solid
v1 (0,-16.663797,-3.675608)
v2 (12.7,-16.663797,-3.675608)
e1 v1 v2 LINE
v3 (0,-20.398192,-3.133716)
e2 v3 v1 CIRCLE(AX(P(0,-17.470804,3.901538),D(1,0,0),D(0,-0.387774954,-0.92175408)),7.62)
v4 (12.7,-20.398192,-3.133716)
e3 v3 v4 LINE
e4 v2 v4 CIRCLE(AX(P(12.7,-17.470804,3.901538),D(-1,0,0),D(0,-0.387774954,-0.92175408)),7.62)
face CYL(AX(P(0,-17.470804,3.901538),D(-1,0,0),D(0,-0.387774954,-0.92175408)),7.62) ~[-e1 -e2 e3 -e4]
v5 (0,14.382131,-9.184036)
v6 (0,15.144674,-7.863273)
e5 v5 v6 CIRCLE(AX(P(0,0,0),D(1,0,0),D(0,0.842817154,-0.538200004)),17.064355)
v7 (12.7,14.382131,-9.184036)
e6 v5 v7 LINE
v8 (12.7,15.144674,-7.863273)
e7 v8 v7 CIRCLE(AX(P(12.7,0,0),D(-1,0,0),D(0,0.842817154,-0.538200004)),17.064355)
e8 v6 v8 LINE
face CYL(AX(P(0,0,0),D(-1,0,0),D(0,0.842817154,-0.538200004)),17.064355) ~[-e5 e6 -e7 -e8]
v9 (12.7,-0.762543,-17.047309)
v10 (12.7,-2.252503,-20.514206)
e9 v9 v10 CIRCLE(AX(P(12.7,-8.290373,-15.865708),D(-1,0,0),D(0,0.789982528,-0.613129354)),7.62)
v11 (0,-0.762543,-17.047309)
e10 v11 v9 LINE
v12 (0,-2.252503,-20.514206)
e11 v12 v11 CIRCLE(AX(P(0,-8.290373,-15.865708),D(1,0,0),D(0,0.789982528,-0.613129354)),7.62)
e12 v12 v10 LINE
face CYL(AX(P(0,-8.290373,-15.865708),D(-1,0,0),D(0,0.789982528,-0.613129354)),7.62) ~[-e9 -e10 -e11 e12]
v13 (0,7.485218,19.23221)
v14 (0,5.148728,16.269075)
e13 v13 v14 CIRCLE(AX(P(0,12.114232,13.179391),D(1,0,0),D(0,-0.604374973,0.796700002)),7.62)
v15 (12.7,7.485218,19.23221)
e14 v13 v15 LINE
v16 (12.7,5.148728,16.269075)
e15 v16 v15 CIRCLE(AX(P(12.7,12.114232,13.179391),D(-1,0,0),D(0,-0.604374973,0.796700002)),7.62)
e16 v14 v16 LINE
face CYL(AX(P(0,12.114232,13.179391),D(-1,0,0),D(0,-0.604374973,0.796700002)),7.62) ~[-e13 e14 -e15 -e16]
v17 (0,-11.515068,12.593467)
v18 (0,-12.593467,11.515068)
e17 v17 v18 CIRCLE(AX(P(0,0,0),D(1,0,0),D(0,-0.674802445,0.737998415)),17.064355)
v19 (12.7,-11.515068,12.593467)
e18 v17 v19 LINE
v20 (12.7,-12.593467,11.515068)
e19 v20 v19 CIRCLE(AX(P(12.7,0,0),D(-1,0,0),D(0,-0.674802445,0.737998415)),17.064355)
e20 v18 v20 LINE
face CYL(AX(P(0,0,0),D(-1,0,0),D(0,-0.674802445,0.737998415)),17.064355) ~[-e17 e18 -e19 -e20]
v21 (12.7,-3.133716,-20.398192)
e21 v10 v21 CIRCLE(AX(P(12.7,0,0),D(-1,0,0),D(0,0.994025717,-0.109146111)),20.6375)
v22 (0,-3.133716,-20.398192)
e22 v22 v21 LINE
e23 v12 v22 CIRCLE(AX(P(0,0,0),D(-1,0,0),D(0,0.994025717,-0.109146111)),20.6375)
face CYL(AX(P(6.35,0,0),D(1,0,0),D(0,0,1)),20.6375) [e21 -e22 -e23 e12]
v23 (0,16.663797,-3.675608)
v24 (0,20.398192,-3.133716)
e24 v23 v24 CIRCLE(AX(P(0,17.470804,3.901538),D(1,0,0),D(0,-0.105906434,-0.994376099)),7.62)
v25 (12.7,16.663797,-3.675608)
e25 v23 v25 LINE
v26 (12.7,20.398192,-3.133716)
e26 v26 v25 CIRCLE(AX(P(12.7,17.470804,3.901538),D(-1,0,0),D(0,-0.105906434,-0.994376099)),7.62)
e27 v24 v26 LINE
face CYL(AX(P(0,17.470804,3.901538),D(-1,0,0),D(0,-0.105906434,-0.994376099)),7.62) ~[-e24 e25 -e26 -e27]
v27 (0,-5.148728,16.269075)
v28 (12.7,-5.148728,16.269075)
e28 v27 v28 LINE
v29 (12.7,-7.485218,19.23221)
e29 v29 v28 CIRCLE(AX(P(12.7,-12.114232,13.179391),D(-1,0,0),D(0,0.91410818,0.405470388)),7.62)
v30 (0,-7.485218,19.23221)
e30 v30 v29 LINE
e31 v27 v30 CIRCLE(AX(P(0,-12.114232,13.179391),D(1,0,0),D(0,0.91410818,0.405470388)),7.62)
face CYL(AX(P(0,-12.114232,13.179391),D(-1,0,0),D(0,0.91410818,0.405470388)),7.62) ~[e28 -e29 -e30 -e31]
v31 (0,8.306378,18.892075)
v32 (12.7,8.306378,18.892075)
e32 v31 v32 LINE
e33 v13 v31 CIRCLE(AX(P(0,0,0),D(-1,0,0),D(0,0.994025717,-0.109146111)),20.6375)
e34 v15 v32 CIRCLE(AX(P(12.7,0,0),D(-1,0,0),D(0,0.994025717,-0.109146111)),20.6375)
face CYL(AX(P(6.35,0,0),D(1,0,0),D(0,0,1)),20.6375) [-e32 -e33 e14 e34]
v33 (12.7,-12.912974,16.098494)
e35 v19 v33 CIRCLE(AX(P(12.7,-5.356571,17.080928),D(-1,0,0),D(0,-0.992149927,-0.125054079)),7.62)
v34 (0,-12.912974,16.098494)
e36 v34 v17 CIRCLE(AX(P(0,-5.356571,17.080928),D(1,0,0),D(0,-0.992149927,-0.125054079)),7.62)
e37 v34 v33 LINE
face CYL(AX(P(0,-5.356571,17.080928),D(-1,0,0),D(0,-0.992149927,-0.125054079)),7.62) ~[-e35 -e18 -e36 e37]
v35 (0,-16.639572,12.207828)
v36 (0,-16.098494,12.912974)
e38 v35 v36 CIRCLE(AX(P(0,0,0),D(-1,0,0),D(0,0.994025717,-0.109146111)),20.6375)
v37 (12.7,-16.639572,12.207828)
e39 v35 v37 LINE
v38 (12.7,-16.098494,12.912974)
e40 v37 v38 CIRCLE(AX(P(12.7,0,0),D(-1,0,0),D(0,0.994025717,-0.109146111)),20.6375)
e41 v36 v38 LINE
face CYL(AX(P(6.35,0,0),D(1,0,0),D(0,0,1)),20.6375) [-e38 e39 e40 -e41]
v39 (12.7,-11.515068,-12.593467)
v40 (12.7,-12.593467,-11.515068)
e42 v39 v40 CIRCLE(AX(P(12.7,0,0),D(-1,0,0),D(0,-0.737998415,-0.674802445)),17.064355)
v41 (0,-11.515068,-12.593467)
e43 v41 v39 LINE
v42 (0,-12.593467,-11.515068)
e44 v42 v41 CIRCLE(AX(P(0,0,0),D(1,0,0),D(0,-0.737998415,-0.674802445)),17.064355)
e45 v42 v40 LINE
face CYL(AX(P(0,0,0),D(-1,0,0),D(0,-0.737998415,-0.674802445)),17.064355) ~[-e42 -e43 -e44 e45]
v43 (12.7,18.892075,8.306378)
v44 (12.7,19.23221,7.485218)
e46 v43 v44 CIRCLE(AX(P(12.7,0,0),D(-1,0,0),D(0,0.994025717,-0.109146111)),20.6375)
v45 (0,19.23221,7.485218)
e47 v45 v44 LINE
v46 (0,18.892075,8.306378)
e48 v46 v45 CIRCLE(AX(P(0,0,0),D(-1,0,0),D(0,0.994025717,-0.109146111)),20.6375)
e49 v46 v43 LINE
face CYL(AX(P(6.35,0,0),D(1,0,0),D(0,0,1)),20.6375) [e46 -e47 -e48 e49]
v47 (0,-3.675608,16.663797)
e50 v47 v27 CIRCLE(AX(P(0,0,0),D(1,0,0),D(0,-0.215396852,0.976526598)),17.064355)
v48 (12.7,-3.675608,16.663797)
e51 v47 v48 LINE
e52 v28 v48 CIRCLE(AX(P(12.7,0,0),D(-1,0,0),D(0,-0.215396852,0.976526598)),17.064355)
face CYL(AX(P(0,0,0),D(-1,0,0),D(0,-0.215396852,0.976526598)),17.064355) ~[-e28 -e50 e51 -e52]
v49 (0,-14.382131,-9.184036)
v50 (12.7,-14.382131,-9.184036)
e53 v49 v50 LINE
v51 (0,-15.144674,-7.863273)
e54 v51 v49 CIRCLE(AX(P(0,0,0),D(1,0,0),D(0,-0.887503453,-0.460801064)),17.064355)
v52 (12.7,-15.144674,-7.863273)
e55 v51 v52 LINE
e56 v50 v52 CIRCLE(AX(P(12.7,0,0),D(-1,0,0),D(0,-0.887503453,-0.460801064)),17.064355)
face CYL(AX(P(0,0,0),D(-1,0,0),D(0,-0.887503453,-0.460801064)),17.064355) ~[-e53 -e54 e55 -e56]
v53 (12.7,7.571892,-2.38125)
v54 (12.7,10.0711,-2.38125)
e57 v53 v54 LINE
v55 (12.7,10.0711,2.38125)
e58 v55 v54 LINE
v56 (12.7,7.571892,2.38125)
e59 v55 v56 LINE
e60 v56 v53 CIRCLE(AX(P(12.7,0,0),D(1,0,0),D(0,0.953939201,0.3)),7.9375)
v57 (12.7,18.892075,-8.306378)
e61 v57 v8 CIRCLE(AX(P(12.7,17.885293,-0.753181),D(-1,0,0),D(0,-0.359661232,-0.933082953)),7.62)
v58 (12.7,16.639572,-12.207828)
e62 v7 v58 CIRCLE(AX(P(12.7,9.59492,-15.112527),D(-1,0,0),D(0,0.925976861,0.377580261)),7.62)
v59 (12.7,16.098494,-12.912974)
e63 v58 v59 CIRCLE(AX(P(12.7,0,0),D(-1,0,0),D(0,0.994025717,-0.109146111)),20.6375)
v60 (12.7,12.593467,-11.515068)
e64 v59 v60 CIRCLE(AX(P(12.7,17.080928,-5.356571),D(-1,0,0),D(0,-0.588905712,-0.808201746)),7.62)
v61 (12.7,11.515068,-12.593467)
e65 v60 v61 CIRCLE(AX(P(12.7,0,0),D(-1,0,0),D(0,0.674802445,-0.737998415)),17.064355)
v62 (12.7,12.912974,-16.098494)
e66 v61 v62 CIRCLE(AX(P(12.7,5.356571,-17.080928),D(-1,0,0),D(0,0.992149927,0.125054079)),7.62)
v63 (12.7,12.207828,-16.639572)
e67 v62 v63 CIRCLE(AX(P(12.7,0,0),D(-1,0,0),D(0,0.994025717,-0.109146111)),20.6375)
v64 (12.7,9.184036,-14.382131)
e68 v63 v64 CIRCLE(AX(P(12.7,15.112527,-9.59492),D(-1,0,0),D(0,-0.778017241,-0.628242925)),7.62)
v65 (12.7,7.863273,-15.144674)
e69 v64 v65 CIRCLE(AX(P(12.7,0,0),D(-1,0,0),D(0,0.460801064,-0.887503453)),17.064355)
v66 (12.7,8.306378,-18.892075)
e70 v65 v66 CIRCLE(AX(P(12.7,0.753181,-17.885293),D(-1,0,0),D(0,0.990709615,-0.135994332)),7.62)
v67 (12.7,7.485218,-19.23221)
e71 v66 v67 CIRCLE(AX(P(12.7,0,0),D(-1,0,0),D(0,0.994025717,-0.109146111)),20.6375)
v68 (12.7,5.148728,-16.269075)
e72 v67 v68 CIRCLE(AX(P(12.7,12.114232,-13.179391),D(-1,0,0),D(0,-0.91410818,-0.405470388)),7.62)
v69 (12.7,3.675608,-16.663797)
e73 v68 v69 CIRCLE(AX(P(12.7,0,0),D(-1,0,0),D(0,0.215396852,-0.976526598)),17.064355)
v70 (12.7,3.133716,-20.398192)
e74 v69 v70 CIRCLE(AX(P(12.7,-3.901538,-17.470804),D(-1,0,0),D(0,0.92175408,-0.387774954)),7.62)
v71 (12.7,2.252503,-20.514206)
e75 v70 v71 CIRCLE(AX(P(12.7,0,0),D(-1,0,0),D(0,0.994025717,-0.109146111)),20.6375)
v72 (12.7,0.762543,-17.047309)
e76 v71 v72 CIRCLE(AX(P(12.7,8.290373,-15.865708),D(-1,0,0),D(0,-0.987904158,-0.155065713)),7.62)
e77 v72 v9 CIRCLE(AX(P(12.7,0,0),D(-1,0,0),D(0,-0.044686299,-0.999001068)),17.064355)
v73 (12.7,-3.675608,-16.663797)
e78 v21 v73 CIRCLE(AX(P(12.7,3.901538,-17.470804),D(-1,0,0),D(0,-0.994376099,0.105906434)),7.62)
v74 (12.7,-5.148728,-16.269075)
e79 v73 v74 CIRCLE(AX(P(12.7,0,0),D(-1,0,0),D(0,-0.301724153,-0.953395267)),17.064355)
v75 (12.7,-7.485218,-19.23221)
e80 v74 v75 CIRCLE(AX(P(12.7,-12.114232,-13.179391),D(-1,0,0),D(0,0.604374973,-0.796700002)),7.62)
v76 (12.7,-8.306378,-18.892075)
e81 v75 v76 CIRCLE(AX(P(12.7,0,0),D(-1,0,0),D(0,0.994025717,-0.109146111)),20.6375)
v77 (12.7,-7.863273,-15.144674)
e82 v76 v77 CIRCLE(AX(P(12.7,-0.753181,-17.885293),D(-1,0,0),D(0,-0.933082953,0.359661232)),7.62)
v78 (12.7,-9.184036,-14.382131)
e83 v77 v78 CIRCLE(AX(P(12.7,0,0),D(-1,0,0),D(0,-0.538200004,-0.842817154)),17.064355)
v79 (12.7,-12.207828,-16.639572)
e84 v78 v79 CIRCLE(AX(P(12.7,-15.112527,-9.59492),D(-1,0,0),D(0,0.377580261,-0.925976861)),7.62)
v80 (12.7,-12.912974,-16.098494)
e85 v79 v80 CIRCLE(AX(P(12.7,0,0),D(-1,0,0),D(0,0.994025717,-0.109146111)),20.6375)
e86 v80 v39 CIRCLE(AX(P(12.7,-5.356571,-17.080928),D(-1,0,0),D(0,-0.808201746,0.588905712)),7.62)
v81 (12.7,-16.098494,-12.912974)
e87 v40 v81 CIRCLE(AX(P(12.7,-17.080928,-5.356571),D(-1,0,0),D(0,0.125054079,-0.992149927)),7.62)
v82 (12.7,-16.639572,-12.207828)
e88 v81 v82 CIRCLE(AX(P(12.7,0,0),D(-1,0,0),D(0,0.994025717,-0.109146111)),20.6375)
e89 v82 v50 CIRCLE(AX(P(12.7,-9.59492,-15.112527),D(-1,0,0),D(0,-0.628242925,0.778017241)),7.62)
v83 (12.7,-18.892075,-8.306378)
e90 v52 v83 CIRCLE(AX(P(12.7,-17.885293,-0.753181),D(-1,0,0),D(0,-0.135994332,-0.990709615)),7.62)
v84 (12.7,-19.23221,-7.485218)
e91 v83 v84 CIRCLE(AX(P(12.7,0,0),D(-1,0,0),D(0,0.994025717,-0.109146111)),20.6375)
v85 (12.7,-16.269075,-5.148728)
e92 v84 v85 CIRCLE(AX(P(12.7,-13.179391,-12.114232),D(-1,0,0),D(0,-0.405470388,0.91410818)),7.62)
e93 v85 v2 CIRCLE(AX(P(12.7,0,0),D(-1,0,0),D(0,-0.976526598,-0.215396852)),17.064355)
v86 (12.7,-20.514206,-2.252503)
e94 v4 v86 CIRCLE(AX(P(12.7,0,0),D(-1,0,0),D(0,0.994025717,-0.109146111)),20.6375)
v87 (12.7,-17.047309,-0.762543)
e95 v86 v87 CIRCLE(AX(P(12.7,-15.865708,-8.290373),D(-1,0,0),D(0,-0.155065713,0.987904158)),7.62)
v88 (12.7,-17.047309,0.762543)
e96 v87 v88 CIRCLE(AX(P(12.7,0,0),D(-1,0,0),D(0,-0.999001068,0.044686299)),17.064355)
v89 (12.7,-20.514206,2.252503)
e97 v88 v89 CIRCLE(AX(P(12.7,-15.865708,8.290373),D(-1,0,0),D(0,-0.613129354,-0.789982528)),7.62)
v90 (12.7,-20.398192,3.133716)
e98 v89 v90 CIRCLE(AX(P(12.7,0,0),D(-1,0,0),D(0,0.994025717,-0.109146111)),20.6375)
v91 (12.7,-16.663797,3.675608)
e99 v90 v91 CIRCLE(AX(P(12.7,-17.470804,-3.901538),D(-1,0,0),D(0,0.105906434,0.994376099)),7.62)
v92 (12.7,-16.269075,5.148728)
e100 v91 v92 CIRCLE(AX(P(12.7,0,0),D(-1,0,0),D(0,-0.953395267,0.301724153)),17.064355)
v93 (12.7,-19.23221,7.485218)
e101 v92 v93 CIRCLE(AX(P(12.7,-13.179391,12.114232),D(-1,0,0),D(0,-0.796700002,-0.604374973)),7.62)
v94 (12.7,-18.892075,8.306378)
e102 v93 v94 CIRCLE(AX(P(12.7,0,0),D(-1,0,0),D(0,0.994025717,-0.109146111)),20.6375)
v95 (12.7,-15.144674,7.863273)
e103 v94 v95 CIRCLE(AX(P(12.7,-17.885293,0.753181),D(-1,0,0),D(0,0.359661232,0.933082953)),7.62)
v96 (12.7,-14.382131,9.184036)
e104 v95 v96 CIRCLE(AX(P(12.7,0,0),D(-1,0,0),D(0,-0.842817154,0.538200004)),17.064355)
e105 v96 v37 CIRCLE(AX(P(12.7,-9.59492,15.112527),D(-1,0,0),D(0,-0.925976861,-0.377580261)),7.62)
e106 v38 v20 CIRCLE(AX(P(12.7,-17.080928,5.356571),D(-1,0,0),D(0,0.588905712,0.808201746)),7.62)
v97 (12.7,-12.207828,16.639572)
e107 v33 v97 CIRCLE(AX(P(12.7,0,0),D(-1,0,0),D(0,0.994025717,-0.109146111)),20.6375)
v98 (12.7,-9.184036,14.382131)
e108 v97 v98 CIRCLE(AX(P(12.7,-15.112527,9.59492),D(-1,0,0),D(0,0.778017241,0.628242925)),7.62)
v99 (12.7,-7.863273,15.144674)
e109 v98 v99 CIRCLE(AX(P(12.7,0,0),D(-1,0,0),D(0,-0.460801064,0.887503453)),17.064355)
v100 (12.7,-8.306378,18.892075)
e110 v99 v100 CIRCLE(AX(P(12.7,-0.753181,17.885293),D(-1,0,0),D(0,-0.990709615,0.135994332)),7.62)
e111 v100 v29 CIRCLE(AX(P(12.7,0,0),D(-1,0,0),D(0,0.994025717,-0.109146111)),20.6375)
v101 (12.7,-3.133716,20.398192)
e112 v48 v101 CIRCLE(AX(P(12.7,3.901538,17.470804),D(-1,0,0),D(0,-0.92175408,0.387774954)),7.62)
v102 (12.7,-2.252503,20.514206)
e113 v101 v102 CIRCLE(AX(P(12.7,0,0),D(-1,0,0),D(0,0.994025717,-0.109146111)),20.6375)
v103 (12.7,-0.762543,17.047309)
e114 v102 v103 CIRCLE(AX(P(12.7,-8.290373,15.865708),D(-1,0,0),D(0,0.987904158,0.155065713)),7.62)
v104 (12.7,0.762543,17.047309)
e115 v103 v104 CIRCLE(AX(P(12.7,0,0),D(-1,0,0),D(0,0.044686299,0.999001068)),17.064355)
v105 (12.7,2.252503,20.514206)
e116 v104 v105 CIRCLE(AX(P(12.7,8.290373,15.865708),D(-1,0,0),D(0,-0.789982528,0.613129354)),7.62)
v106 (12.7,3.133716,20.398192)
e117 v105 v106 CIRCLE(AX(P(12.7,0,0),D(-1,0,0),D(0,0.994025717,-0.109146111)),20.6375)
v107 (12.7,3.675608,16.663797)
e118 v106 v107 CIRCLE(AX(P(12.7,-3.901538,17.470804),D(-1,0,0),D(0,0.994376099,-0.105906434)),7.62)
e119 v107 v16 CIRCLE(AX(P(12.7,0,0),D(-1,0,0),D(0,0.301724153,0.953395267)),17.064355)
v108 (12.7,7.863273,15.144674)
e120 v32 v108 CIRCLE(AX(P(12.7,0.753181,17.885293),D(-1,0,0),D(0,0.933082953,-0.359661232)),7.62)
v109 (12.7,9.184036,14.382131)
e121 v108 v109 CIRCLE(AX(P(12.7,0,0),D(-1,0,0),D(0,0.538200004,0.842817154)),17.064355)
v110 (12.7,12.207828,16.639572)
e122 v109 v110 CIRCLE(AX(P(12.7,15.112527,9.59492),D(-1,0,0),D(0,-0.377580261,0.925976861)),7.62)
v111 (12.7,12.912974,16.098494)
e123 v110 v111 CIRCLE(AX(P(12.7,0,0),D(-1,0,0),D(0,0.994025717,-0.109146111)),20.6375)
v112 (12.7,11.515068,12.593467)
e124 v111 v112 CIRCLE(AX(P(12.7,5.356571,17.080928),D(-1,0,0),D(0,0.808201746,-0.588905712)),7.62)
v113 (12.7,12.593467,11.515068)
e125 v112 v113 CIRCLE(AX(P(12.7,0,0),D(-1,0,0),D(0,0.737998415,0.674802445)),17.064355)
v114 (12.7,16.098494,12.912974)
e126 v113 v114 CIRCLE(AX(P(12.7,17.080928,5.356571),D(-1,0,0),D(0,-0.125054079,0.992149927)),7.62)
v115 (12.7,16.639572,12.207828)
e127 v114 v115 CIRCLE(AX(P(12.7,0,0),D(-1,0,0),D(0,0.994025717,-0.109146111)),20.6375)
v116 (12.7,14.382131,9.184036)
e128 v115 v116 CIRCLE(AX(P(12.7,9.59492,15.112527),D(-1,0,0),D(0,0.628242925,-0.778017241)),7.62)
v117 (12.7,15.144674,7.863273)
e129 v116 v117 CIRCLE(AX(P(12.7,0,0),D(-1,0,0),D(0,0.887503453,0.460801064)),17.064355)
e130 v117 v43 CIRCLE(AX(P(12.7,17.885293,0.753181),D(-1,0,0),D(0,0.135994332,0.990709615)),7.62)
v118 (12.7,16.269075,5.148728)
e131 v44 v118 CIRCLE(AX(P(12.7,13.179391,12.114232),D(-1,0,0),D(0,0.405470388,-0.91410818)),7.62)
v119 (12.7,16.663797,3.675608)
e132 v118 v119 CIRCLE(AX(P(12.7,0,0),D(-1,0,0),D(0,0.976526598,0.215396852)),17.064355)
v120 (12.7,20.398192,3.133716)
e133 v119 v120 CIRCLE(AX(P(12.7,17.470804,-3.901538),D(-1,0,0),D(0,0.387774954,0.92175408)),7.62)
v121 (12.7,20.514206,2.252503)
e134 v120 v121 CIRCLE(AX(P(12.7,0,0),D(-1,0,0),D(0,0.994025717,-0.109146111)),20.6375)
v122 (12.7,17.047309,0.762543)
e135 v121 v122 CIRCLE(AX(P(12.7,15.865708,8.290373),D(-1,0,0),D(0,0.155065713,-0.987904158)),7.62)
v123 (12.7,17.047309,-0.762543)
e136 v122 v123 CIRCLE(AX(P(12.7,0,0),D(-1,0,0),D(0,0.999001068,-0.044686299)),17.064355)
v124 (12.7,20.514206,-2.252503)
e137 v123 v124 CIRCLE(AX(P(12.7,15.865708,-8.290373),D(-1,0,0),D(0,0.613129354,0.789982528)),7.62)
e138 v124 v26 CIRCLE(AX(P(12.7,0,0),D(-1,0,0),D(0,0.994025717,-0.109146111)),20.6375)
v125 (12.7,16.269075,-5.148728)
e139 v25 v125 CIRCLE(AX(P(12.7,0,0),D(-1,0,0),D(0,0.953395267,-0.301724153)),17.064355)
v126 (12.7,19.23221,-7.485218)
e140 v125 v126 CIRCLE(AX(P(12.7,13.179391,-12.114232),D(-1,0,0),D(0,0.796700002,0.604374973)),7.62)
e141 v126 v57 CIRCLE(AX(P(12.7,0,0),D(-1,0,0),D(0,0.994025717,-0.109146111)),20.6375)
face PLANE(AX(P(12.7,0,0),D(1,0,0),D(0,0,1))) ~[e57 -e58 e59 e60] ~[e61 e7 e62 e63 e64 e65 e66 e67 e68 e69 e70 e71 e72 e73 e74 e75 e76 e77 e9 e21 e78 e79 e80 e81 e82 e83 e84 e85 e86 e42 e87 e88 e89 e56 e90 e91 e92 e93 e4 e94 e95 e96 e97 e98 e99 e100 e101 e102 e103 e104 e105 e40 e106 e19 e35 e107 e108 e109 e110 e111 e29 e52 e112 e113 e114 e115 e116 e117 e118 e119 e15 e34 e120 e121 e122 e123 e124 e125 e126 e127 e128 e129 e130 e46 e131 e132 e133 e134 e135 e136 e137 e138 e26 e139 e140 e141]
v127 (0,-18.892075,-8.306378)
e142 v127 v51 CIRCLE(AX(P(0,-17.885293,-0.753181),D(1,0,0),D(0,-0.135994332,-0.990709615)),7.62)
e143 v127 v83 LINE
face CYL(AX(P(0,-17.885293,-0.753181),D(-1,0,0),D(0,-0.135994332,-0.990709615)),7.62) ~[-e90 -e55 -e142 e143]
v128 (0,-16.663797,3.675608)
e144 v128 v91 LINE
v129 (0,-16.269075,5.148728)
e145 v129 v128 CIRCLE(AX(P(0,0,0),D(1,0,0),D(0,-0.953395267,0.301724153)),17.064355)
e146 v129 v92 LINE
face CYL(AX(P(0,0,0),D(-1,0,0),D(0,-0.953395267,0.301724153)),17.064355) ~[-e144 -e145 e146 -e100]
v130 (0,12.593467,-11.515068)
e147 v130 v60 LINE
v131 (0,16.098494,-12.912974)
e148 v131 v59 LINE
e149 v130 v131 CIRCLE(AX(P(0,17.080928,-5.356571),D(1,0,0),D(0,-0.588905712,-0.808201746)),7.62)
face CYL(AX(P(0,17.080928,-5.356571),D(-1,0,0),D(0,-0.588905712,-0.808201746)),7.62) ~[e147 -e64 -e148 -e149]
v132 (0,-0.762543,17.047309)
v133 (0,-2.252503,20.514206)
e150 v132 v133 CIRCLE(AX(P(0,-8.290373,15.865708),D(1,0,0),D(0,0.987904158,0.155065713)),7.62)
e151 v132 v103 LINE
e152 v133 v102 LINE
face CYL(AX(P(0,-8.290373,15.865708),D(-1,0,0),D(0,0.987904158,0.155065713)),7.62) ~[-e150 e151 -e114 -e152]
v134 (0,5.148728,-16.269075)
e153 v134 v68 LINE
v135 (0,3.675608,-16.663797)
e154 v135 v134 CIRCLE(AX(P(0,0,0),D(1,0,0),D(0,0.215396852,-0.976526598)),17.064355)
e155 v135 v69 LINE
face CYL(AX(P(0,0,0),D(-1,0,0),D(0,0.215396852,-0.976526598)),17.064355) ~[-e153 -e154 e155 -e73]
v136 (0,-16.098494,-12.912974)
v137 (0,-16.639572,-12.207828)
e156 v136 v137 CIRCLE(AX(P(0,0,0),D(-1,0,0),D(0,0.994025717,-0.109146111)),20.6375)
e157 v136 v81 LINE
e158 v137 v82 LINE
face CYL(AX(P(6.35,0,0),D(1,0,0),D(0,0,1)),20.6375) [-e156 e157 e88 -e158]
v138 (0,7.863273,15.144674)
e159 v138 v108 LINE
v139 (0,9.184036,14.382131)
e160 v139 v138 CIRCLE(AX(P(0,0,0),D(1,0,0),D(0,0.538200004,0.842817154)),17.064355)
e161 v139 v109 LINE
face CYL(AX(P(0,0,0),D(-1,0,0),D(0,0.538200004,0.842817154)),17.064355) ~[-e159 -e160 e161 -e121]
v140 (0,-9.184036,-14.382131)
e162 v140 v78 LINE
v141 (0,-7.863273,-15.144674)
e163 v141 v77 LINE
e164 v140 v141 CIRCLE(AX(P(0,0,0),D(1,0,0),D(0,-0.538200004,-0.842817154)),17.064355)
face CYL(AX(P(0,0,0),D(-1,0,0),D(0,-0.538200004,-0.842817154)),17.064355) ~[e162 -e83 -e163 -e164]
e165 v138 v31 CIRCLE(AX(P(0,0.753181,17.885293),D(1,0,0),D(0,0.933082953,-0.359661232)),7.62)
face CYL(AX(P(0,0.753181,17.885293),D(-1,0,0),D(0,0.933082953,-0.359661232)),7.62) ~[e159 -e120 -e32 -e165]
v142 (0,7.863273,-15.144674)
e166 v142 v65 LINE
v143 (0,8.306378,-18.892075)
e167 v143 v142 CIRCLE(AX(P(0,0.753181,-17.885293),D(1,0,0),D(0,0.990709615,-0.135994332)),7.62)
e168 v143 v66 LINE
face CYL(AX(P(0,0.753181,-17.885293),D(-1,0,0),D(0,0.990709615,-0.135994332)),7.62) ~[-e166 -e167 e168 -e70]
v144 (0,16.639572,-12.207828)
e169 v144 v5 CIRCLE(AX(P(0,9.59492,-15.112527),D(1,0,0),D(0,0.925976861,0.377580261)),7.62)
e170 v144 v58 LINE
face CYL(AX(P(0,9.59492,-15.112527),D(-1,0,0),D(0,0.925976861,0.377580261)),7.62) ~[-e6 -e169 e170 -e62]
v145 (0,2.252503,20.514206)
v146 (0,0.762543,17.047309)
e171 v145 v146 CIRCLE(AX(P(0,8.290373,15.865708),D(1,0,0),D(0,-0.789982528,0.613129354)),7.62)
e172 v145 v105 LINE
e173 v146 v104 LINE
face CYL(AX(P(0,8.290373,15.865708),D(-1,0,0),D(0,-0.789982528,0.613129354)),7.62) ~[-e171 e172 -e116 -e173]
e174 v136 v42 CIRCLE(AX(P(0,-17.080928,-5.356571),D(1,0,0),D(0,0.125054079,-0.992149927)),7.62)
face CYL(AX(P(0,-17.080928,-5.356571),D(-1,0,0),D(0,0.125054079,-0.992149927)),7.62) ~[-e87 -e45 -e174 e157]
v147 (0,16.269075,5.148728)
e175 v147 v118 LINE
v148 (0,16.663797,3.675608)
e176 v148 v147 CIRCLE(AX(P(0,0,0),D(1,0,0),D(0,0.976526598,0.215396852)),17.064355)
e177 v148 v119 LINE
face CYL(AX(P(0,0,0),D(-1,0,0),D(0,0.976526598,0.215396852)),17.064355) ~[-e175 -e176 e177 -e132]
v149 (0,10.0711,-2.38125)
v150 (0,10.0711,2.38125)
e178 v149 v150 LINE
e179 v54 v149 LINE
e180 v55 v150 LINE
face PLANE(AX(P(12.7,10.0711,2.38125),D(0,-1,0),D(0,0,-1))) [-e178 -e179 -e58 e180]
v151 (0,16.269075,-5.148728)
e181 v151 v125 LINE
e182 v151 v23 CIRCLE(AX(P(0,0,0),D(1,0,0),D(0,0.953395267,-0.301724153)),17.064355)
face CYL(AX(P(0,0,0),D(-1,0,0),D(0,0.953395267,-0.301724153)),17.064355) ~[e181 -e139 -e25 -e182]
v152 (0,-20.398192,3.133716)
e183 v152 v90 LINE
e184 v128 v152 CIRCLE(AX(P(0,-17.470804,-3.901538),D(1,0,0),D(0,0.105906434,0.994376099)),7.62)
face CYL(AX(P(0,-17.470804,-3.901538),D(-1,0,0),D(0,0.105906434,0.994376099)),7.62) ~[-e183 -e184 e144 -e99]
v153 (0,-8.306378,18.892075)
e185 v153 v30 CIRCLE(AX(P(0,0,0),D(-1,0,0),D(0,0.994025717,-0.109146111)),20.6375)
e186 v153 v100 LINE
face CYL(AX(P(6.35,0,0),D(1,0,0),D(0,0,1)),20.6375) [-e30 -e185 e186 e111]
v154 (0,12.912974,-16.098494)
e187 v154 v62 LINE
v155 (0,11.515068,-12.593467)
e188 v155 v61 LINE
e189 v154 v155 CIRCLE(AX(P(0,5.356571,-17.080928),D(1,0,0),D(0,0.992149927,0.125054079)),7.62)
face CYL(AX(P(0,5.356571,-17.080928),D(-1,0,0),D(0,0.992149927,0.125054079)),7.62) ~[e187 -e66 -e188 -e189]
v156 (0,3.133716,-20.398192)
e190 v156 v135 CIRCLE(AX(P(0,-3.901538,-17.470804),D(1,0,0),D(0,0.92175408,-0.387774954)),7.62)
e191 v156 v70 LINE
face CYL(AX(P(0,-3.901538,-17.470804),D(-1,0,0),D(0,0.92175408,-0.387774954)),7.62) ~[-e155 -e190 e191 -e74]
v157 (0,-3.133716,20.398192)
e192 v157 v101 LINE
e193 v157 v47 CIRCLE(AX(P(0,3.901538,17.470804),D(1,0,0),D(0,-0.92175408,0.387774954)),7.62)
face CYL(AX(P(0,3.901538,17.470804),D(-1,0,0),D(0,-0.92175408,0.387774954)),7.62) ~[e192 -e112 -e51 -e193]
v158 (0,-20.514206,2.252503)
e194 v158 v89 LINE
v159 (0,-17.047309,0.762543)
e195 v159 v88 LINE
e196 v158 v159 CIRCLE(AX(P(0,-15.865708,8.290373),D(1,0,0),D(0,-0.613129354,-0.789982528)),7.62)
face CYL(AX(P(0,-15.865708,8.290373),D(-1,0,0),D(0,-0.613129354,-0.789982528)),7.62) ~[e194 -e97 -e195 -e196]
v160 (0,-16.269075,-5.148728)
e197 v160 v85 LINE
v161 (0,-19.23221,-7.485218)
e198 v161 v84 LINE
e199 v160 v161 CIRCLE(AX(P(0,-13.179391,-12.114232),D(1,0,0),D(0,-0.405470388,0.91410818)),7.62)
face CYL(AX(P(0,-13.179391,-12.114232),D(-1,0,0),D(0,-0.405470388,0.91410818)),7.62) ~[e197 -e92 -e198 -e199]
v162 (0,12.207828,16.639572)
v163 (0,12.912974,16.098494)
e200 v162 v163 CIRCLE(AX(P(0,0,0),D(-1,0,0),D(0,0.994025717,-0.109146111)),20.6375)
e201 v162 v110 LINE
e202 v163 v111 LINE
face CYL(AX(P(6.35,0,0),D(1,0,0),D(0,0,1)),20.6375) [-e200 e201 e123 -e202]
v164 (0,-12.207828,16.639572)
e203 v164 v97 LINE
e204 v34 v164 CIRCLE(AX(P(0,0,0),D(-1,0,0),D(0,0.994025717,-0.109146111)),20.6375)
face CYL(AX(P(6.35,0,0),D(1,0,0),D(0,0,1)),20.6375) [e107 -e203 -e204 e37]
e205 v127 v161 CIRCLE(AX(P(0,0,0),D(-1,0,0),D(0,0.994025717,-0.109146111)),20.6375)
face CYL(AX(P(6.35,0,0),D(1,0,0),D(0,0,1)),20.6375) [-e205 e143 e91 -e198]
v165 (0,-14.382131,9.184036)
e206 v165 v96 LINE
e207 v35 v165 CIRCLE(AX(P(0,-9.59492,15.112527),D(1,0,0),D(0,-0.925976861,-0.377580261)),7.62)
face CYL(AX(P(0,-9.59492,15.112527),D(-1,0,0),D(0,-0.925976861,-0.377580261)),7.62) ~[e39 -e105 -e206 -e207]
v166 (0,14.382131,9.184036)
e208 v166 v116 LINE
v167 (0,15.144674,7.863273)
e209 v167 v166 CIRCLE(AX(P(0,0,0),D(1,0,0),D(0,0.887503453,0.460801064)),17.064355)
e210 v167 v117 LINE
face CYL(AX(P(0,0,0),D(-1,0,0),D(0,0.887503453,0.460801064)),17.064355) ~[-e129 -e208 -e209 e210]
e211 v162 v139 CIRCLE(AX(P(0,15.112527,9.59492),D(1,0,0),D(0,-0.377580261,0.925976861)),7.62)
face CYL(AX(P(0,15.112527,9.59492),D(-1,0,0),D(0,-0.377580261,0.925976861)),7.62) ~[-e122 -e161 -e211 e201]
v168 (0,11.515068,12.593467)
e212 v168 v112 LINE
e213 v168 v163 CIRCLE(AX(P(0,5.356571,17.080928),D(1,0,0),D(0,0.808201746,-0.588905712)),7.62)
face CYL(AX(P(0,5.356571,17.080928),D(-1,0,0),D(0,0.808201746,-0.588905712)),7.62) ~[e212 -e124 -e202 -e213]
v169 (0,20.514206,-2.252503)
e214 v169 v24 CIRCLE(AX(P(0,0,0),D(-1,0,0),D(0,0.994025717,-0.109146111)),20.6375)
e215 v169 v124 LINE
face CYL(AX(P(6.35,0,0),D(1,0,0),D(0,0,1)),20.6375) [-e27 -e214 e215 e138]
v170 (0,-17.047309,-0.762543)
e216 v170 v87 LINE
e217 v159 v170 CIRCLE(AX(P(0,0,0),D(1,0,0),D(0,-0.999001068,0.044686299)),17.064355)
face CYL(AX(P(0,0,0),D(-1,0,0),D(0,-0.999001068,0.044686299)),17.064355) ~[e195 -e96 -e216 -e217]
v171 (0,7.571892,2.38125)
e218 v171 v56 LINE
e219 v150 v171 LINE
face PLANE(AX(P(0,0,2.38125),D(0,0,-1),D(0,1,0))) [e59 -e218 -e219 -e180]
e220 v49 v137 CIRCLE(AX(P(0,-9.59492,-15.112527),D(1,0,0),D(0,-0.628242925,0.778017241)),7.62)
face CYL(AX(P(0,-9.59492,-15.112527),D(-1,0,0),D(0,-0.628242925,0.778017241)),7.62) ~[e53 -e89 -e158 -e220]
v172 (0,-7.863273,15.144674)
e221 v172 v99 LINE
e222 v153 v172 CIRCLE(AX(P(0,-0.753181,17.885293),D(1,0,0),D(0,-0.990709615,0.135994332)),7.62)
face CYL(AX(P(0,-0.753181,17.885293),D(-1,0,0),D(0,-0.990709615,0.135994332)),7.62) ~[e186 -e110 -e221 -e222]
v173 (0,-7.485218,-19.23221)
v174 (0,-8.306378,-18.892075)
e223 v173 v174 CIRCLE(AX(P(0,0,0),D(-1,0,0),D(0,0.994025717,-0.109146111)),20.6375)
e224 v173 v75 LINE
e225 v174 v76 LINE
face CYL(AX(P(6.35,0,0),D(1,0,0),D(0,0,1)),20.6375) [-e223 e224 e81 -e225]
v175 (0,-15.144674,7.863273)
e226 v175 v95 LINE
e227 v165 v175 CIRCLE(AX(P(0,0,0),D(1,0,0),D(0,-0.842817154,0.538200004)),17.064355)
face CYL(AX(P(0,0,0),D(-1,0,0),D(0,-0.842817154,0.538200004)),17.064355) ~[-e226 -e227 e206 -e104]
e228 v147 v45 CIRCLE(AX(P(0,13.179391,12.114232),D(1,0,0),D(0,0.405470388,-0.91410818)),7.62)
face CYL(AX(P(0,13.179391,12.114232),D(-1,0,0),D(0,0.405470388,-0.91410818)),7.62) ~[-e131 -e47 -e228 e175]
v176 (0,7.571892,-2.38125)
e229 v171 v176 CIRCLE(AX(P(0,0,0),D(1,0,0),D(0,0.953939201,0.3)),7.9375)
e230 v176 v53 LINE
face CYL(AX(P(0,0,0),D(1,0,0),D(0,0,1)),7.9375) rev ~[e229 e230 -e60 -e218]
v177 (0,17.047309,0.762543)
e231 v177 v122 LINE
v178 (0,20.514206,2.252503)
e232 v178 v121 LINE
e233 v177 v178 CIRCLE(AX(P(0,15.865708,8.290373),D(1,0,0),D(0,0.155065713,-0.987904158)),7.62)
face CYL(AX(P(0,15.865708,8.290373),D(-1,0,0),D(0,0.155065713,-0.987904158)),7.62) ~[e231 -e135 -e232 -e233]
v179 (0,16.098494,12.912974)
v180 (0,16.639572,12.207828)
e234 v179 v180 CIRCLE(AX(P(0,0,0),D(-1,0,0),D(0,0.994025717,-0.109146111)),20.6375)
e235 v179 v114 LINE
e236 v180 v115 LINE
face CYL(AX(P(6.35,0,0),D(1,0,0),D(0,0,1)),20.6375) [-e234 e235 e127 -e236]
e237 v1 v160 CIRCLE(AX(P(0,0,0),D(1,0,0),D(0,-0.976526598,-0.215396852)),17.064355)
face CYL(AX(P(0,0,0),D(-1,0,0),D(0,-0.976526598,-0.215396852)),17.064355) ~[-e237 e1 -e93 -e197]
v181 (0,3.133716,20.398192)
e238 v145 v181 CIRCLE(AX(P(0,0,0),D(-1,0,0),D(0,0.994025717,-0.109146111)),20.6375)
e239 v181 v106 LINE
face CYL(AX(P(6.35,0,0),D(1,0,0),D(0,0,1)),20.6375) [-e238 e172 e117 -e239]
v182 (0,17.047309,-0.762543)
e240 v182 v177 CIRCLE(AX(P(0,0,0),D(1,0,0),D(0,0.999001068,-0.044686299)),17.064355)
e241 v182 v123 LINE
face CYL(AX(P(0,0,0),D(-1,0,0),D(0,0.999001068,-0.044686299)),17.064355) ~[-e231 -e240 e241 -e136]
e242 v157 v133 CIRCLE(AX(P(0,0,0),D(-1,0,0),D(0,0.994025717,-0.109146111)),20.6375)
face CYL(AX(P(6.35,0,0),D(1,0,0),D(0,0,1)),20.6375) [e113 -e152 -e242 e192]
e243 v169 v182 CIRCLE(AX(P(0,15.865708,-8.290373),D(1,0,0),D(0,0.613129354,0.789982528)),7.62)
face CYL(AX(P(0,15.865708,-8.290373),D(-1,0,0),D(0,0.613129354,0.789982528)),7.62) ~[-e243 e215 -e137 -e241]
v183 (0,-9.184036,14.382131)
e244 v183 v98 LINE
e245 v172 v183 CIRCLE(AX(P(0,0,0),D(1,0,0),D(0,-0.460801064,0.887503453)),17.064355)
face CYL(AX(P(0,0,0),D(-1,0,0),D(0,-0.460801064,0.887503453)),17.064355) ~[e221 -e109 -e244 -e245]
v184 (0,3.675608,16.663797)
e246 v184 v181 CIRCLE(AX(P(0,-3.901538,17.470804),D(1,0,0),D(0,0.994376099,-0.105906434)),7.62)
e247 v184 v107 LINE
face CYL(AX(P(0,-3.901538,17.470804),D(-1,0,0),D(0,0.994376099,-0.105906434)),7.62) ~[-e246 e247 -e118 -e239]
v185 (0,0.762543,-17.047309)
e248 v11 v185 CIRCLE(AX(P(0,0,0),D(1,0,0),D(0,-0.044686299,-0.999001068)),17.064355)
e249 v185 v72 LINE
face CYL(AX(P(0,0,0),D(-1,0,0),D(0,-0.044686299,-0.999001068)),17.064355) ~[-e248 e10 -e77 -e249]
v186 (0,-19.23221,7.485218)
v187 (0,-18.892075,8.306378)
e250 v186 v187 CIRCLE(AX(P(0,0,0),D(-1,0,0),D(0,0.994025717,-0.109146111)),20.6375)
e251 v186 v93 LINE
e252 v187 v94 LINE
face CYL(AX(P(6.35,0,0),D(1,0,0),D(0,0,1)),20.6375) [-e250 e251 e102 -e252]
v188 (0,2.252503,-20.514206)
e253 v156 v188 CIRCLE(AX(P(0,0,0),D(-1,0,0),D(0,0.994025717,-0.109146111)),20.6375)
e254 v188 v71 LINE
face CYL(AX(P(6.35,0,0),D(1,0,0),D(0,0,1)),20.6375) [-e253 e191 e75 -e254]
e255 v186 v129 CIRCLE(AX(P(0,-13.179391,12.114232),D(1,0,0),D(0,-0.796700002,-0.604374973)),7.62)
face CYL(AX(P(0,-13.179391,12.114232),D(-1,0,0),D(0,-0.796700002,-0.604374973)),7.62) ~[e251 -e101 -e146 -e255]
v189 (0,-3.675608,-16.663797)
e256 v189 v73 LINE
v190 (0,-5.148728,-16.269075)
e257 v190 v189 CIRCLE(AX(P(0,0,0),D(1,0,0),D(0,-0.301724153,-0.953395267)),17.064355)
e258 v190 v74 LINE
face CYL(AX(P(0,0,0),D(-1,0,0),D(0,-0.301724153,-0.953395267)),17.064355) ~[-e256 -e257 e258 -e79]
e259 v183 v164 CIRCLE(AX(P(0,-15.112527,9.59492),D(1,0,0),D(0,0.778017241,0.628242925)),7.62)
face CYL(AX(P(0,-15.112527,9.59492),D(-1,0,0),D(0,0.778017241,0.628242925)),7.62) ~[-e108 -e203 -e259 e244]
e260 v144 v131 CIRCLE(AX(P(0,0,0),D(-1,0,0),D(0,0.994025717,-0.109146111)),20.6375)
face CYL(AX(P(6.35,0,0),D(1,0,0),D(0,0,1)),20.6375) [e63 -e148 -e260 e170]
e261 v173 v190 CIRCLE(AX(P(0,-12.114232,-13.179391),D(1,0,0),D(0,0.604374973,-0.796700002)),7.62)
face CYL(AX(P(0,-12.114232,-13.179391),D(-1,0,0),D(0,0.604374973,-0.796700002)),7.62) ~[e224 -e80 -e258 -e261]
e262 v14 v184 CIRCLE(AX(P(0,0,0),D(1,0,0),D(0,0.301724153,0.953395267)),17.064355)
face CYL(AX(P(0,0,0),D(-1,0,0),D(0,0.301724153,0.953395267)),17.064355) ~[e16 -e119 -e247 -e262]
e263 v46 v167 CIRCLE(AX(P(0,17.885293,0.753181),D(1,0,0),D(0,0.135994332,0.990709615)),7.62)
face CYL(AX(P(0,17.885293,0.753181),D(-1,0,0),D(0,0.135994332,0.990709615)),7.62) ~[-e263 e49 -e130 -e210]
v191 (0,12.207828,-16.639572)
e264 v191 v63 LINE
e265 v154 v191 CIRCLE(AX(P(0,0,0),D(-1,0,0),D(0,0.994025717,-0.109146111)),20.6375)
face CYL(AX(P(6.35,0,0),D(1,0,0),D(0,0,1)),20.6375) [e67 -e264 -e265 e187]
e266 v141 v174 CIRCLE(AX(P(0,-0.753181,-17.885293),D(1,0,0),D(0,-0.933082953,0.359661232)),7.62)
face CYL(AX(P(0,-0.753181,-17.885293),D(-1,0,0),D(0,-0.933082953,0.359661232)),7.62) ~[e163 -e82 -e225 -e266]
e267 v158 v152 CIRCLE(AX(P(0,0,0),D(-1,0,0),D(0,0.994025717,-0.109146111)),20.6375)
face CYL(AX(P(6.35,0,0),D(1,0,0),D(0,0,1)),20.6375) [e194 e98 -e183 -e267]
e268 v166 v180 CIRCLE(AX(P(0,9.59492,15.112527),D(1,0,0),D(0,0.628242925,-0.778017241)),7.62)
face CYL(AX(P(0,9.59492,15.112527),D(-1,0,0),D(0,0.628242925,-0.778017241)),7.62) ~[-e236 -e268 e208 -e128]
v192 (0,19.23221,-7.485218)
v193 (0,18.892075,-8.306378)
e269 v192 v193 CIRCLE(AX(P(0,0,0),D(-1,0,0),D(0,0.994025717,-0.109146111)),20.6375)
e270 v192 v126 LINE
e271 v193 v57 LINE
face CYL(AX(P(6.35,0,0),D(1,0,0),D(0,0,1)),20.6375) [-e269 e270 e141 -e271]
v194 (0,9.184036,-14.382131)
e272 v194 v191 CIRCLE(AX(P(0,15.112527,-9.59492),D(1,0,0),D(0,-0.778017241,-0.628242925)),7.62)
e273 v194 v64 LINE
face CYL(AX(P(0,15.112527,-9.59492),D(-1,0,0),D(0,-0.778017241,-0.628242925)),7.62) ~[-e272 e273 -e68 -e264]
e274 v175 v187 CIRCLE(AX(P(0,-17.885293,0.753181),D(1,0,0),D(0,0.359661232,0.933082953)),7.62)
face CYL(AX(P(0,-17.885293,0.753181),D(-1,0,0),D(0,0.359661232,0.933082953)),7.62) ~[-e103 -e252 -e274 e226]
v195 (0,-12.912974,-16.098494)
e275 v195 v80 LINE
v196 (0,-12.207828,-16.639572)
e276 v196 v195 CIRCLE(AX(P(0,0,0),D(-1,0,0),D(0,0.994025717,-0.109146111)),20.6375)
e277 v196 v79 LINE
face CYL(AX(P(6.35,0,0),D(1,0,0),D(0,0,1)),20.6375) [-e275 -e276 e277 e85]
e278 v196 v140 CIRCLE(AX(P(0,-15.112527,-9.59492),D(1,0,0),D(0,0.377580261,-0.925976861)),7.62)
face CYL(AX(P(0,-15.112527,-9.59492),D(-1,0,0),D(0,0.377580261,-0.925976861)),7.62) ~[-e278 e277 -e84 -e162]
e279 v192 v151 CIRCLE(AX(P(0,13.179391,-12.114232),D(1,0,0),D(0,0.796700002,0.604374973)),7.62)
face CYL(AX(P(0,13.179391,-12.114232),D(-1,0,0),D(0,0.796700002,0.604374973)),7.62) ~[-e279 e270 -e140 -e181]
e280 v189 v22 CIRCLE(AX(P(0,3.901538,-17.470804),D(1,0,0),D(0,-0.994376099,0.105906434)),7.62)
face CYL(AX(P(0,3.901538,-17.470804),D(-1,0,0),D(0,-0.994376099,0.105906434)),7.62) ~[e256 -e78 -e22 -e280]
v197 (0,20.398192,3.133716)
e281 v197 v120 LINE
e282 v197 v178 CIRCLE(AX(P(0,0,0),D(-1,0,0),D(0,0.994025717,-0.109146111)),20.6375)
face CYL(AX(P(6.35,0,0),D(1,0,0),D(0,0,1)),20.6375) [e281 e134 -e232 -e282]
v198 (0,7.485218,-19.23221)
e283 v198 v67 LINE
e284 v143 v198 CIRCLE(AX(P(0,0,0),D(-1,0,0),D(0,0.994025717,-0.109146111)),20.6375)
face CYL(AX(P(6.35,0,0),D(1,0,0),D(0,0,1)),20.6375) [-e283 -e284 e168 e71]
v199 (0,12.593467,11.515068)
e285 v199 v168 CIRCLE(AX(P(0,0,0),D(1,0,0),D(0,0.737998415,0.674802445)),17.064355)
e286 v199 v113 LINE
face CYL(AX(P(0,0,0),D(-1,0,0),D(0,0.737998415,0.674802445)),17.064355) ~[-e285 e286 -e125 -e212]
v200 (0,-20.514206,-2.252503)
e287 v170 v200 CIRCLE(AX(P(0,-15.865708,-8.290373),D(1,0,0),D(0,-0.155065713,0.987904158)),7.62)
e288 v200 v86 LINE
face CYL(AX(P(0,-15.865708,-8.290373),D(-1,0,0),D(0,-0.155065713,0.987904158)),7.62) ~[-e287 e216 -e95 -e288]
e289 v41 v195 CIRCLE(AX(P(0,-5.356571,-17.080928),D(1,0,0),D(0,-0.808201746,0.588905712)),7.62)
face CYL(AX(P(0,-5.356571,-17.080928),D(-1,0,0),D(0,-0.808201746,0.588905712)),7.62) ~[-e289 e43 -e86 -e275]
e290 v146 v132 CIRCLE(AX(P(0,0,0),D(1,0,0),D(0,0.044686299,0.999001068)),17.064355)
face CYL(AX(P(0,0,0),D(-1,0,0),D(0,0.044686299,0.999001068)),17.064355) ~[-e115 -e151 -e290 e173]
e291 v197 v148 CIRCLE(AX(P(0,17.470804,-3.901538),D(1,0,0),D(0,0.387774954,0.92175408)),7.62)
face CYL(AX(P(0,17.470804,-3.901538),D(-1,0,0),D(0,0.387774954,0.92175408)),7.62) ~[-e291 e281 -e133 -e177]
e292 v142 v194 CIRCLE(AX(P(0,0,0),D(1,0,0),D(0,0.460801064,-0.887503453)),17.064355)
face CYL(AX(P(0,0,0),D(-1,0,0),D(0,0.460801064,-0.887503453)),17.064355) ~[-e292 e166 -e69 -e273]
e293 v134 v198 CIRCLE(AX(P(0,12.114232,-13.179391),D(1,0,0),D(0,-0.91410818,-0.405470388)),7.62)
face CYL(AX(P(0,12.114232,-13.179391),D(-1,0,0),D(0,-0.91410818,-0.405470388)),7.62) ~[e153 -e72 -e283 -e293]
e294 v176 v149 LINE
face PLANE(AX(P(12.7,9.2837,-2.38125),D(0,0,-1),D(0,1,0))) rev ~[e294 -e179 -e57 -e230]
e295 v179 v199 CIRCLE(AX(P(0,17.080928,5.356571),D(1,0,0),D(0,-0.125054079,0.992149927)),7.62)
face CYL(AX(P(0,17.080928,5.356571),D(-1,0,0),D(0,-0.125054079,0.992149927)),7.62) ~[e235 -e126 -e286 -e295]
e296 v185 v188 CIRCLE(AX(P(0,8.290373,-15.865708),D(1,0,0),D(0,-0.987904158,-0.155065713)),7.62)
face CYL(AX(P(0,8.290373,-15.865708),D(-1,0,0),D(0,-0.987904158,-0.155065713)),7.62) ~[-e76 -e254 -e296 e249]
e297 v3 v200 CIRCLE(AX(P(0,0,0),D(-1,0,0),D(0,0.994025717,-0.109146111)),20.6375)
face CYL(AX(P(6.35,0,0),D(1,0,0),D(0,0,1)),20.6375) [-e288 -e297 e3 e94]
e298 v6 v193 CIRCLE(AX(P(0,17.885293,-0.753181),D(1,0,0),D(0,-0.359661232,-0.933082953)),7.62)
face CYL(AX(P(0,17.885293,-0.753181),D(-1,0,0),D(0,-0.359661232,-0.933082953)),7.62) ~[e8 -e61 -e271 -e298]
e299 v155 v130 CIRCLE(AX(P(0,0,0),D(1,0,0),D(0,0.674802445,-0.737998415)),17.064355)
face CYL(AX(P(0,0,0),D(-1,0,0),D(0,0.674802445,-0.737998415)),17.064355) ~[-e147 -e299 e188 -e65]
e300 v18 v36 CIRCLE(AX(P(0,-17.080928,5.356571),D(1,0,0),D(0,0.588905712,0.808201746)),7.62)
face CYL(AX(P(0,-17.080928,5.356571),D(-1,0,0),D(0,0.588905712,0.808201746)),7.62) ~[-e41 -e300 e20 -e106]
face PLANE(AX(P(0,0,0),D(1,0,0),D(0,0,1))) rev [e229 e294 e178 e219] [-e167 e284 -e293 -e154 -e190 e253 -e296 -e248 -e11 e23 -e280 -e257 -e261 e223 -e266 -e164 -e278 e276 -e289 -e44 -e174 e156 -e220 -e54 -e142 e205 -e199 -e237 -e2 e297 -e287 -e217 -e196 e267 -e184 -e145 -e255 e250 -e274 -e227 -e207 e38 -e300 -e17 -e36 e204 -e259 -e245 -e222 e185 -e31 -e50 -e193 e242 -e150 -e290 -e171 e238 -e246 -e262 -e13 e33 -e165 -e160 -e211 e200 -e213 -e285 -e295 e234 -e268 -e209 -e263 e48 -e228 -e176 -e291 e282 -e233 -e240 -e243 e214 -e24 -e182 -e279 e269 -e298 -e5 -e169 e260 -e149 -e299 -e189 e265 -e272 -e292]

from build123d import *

# Parameters (mm, degrees)
BASPROSKE_W        = 12.7
BASPROSKE_H        = 20.6375
TOOTHCUT_DEPTH     = 32.829276029
TEETHCUTS_COUNT    = 24
TEETHCUTS_ANGLE    = 345
BORSKE_R           = 7.9375
BORE_DEPTH         = 50.8000508
KEYSKE_W           = 4.7625
KEYSKE_H           = 9.2837
KEYWAY_DEPTH       = 50.8000508
SKETCH2_W          = 4.7625
SKETCH2_H          = 0.7874
CUT_EXTRUDE2_DEPTH = 32.669469117


with BuildPart() as part:
    # BasProSke → Base-Revolve (revolve)
    with BuildSketch(Plane(origin=(0, 0, 0), x_dir=(1, 0, 0), z_dir=(0, 1, 0)), mode=Mode.PRIVATE) as base_revolve_sk:
        with Locations((6.35, 10.31875)):
            Rectangle(BASPROSKE_W, BASPROSKE_H)
    revolve(base_revolve_sk.sketch.rotate(Axis((-10, 0, 0), (1, 0, 0)), 180), axis=Axis((-10, 0, 0), (1, 0, 0)))

    # TooCutSke → ToothCut (cut, through all)
    with BuildSketch(Plane(origin=(0, 0, 0), x_dir=(0, 0, -1), z_dir=(1, 0, 0))):
        with BuildLine():
            ThreePointArc((0.762542858, 17.047308877), (0, 17.064355), (-0.762542858, 17.047308877))
            ThreePointArc((-0.762542858, 17.047308877), (-1.295412414, 18.888113288), (-2.270705673, 20.537753824))
            ThreePointArc((-2.270705673, 20.537753824), (0, 20.6629), (2.270705673, 20.537753824))
            ThreePointArc((2.270705673, 20.537753824), (1.295412414, 18.888113288), (0.762542858, 17.047308877))
        make_face()
    toothcut = extrude(amount=TOOTHCUT_DEPTH, mode=Mode.SUBTRACT)

    # TeethCuts: ToothCut ×24 about axis
    teethcuts_axis = Axis((-10, 0, 0), (1, 0, 0))
    for i in range(1, TEETHCUTS_COUNT):
        add(toothcut.rotate(teethcuts_axis, i * TEETHCUTS_ANGLE / (TEETHCUTS_COUNT - 1)), mode=Mode.SUBTRACT)

    # BorSke → Bore (cut, symmetric)
    with BuildSketch(Plane(origin=(0, 0, 0), x_dir=(0, 0, -1), z_dir=(1, 0, 0))):
        with Locations(Location((0, 0, 0), (0, 0, 180))):
            Circle(BORSKE_R)
    extrude(amount=BORE_DEPTH, both=True, mode=Mode.SUBTRACT)

    # KeySke → Keyway (cut, symmetric)
    with BuildSketch(Plane(origin=(0, 0, 0), x_dir=(0, 0, -1), z_dir=(1, 0, 0))):
        with Locations((0, 4.64185)):
            Rectangle(KEYSKE_W, KEYSKE_H)
    extrude(amount=KEYWAY_DEPTH, both=True, mode=Mode.SUBTRACT)

    # Sketch2 → Cut-Extrude2 (cut, through all)
    with BuildSketch(Plane(origin=(12.7, 0, 0), x_dir=(0, 0, -1), z_dir=(1, 0, 0))):
        with Locations((0, 9.6774)):
            Rectangle(SKETCH2_W, SKETCH2_H)
    extrude(amount=-CUT_EXTRUDE2_DEPTH, mode=Mode.SUBTRACT)


solid = part.part
